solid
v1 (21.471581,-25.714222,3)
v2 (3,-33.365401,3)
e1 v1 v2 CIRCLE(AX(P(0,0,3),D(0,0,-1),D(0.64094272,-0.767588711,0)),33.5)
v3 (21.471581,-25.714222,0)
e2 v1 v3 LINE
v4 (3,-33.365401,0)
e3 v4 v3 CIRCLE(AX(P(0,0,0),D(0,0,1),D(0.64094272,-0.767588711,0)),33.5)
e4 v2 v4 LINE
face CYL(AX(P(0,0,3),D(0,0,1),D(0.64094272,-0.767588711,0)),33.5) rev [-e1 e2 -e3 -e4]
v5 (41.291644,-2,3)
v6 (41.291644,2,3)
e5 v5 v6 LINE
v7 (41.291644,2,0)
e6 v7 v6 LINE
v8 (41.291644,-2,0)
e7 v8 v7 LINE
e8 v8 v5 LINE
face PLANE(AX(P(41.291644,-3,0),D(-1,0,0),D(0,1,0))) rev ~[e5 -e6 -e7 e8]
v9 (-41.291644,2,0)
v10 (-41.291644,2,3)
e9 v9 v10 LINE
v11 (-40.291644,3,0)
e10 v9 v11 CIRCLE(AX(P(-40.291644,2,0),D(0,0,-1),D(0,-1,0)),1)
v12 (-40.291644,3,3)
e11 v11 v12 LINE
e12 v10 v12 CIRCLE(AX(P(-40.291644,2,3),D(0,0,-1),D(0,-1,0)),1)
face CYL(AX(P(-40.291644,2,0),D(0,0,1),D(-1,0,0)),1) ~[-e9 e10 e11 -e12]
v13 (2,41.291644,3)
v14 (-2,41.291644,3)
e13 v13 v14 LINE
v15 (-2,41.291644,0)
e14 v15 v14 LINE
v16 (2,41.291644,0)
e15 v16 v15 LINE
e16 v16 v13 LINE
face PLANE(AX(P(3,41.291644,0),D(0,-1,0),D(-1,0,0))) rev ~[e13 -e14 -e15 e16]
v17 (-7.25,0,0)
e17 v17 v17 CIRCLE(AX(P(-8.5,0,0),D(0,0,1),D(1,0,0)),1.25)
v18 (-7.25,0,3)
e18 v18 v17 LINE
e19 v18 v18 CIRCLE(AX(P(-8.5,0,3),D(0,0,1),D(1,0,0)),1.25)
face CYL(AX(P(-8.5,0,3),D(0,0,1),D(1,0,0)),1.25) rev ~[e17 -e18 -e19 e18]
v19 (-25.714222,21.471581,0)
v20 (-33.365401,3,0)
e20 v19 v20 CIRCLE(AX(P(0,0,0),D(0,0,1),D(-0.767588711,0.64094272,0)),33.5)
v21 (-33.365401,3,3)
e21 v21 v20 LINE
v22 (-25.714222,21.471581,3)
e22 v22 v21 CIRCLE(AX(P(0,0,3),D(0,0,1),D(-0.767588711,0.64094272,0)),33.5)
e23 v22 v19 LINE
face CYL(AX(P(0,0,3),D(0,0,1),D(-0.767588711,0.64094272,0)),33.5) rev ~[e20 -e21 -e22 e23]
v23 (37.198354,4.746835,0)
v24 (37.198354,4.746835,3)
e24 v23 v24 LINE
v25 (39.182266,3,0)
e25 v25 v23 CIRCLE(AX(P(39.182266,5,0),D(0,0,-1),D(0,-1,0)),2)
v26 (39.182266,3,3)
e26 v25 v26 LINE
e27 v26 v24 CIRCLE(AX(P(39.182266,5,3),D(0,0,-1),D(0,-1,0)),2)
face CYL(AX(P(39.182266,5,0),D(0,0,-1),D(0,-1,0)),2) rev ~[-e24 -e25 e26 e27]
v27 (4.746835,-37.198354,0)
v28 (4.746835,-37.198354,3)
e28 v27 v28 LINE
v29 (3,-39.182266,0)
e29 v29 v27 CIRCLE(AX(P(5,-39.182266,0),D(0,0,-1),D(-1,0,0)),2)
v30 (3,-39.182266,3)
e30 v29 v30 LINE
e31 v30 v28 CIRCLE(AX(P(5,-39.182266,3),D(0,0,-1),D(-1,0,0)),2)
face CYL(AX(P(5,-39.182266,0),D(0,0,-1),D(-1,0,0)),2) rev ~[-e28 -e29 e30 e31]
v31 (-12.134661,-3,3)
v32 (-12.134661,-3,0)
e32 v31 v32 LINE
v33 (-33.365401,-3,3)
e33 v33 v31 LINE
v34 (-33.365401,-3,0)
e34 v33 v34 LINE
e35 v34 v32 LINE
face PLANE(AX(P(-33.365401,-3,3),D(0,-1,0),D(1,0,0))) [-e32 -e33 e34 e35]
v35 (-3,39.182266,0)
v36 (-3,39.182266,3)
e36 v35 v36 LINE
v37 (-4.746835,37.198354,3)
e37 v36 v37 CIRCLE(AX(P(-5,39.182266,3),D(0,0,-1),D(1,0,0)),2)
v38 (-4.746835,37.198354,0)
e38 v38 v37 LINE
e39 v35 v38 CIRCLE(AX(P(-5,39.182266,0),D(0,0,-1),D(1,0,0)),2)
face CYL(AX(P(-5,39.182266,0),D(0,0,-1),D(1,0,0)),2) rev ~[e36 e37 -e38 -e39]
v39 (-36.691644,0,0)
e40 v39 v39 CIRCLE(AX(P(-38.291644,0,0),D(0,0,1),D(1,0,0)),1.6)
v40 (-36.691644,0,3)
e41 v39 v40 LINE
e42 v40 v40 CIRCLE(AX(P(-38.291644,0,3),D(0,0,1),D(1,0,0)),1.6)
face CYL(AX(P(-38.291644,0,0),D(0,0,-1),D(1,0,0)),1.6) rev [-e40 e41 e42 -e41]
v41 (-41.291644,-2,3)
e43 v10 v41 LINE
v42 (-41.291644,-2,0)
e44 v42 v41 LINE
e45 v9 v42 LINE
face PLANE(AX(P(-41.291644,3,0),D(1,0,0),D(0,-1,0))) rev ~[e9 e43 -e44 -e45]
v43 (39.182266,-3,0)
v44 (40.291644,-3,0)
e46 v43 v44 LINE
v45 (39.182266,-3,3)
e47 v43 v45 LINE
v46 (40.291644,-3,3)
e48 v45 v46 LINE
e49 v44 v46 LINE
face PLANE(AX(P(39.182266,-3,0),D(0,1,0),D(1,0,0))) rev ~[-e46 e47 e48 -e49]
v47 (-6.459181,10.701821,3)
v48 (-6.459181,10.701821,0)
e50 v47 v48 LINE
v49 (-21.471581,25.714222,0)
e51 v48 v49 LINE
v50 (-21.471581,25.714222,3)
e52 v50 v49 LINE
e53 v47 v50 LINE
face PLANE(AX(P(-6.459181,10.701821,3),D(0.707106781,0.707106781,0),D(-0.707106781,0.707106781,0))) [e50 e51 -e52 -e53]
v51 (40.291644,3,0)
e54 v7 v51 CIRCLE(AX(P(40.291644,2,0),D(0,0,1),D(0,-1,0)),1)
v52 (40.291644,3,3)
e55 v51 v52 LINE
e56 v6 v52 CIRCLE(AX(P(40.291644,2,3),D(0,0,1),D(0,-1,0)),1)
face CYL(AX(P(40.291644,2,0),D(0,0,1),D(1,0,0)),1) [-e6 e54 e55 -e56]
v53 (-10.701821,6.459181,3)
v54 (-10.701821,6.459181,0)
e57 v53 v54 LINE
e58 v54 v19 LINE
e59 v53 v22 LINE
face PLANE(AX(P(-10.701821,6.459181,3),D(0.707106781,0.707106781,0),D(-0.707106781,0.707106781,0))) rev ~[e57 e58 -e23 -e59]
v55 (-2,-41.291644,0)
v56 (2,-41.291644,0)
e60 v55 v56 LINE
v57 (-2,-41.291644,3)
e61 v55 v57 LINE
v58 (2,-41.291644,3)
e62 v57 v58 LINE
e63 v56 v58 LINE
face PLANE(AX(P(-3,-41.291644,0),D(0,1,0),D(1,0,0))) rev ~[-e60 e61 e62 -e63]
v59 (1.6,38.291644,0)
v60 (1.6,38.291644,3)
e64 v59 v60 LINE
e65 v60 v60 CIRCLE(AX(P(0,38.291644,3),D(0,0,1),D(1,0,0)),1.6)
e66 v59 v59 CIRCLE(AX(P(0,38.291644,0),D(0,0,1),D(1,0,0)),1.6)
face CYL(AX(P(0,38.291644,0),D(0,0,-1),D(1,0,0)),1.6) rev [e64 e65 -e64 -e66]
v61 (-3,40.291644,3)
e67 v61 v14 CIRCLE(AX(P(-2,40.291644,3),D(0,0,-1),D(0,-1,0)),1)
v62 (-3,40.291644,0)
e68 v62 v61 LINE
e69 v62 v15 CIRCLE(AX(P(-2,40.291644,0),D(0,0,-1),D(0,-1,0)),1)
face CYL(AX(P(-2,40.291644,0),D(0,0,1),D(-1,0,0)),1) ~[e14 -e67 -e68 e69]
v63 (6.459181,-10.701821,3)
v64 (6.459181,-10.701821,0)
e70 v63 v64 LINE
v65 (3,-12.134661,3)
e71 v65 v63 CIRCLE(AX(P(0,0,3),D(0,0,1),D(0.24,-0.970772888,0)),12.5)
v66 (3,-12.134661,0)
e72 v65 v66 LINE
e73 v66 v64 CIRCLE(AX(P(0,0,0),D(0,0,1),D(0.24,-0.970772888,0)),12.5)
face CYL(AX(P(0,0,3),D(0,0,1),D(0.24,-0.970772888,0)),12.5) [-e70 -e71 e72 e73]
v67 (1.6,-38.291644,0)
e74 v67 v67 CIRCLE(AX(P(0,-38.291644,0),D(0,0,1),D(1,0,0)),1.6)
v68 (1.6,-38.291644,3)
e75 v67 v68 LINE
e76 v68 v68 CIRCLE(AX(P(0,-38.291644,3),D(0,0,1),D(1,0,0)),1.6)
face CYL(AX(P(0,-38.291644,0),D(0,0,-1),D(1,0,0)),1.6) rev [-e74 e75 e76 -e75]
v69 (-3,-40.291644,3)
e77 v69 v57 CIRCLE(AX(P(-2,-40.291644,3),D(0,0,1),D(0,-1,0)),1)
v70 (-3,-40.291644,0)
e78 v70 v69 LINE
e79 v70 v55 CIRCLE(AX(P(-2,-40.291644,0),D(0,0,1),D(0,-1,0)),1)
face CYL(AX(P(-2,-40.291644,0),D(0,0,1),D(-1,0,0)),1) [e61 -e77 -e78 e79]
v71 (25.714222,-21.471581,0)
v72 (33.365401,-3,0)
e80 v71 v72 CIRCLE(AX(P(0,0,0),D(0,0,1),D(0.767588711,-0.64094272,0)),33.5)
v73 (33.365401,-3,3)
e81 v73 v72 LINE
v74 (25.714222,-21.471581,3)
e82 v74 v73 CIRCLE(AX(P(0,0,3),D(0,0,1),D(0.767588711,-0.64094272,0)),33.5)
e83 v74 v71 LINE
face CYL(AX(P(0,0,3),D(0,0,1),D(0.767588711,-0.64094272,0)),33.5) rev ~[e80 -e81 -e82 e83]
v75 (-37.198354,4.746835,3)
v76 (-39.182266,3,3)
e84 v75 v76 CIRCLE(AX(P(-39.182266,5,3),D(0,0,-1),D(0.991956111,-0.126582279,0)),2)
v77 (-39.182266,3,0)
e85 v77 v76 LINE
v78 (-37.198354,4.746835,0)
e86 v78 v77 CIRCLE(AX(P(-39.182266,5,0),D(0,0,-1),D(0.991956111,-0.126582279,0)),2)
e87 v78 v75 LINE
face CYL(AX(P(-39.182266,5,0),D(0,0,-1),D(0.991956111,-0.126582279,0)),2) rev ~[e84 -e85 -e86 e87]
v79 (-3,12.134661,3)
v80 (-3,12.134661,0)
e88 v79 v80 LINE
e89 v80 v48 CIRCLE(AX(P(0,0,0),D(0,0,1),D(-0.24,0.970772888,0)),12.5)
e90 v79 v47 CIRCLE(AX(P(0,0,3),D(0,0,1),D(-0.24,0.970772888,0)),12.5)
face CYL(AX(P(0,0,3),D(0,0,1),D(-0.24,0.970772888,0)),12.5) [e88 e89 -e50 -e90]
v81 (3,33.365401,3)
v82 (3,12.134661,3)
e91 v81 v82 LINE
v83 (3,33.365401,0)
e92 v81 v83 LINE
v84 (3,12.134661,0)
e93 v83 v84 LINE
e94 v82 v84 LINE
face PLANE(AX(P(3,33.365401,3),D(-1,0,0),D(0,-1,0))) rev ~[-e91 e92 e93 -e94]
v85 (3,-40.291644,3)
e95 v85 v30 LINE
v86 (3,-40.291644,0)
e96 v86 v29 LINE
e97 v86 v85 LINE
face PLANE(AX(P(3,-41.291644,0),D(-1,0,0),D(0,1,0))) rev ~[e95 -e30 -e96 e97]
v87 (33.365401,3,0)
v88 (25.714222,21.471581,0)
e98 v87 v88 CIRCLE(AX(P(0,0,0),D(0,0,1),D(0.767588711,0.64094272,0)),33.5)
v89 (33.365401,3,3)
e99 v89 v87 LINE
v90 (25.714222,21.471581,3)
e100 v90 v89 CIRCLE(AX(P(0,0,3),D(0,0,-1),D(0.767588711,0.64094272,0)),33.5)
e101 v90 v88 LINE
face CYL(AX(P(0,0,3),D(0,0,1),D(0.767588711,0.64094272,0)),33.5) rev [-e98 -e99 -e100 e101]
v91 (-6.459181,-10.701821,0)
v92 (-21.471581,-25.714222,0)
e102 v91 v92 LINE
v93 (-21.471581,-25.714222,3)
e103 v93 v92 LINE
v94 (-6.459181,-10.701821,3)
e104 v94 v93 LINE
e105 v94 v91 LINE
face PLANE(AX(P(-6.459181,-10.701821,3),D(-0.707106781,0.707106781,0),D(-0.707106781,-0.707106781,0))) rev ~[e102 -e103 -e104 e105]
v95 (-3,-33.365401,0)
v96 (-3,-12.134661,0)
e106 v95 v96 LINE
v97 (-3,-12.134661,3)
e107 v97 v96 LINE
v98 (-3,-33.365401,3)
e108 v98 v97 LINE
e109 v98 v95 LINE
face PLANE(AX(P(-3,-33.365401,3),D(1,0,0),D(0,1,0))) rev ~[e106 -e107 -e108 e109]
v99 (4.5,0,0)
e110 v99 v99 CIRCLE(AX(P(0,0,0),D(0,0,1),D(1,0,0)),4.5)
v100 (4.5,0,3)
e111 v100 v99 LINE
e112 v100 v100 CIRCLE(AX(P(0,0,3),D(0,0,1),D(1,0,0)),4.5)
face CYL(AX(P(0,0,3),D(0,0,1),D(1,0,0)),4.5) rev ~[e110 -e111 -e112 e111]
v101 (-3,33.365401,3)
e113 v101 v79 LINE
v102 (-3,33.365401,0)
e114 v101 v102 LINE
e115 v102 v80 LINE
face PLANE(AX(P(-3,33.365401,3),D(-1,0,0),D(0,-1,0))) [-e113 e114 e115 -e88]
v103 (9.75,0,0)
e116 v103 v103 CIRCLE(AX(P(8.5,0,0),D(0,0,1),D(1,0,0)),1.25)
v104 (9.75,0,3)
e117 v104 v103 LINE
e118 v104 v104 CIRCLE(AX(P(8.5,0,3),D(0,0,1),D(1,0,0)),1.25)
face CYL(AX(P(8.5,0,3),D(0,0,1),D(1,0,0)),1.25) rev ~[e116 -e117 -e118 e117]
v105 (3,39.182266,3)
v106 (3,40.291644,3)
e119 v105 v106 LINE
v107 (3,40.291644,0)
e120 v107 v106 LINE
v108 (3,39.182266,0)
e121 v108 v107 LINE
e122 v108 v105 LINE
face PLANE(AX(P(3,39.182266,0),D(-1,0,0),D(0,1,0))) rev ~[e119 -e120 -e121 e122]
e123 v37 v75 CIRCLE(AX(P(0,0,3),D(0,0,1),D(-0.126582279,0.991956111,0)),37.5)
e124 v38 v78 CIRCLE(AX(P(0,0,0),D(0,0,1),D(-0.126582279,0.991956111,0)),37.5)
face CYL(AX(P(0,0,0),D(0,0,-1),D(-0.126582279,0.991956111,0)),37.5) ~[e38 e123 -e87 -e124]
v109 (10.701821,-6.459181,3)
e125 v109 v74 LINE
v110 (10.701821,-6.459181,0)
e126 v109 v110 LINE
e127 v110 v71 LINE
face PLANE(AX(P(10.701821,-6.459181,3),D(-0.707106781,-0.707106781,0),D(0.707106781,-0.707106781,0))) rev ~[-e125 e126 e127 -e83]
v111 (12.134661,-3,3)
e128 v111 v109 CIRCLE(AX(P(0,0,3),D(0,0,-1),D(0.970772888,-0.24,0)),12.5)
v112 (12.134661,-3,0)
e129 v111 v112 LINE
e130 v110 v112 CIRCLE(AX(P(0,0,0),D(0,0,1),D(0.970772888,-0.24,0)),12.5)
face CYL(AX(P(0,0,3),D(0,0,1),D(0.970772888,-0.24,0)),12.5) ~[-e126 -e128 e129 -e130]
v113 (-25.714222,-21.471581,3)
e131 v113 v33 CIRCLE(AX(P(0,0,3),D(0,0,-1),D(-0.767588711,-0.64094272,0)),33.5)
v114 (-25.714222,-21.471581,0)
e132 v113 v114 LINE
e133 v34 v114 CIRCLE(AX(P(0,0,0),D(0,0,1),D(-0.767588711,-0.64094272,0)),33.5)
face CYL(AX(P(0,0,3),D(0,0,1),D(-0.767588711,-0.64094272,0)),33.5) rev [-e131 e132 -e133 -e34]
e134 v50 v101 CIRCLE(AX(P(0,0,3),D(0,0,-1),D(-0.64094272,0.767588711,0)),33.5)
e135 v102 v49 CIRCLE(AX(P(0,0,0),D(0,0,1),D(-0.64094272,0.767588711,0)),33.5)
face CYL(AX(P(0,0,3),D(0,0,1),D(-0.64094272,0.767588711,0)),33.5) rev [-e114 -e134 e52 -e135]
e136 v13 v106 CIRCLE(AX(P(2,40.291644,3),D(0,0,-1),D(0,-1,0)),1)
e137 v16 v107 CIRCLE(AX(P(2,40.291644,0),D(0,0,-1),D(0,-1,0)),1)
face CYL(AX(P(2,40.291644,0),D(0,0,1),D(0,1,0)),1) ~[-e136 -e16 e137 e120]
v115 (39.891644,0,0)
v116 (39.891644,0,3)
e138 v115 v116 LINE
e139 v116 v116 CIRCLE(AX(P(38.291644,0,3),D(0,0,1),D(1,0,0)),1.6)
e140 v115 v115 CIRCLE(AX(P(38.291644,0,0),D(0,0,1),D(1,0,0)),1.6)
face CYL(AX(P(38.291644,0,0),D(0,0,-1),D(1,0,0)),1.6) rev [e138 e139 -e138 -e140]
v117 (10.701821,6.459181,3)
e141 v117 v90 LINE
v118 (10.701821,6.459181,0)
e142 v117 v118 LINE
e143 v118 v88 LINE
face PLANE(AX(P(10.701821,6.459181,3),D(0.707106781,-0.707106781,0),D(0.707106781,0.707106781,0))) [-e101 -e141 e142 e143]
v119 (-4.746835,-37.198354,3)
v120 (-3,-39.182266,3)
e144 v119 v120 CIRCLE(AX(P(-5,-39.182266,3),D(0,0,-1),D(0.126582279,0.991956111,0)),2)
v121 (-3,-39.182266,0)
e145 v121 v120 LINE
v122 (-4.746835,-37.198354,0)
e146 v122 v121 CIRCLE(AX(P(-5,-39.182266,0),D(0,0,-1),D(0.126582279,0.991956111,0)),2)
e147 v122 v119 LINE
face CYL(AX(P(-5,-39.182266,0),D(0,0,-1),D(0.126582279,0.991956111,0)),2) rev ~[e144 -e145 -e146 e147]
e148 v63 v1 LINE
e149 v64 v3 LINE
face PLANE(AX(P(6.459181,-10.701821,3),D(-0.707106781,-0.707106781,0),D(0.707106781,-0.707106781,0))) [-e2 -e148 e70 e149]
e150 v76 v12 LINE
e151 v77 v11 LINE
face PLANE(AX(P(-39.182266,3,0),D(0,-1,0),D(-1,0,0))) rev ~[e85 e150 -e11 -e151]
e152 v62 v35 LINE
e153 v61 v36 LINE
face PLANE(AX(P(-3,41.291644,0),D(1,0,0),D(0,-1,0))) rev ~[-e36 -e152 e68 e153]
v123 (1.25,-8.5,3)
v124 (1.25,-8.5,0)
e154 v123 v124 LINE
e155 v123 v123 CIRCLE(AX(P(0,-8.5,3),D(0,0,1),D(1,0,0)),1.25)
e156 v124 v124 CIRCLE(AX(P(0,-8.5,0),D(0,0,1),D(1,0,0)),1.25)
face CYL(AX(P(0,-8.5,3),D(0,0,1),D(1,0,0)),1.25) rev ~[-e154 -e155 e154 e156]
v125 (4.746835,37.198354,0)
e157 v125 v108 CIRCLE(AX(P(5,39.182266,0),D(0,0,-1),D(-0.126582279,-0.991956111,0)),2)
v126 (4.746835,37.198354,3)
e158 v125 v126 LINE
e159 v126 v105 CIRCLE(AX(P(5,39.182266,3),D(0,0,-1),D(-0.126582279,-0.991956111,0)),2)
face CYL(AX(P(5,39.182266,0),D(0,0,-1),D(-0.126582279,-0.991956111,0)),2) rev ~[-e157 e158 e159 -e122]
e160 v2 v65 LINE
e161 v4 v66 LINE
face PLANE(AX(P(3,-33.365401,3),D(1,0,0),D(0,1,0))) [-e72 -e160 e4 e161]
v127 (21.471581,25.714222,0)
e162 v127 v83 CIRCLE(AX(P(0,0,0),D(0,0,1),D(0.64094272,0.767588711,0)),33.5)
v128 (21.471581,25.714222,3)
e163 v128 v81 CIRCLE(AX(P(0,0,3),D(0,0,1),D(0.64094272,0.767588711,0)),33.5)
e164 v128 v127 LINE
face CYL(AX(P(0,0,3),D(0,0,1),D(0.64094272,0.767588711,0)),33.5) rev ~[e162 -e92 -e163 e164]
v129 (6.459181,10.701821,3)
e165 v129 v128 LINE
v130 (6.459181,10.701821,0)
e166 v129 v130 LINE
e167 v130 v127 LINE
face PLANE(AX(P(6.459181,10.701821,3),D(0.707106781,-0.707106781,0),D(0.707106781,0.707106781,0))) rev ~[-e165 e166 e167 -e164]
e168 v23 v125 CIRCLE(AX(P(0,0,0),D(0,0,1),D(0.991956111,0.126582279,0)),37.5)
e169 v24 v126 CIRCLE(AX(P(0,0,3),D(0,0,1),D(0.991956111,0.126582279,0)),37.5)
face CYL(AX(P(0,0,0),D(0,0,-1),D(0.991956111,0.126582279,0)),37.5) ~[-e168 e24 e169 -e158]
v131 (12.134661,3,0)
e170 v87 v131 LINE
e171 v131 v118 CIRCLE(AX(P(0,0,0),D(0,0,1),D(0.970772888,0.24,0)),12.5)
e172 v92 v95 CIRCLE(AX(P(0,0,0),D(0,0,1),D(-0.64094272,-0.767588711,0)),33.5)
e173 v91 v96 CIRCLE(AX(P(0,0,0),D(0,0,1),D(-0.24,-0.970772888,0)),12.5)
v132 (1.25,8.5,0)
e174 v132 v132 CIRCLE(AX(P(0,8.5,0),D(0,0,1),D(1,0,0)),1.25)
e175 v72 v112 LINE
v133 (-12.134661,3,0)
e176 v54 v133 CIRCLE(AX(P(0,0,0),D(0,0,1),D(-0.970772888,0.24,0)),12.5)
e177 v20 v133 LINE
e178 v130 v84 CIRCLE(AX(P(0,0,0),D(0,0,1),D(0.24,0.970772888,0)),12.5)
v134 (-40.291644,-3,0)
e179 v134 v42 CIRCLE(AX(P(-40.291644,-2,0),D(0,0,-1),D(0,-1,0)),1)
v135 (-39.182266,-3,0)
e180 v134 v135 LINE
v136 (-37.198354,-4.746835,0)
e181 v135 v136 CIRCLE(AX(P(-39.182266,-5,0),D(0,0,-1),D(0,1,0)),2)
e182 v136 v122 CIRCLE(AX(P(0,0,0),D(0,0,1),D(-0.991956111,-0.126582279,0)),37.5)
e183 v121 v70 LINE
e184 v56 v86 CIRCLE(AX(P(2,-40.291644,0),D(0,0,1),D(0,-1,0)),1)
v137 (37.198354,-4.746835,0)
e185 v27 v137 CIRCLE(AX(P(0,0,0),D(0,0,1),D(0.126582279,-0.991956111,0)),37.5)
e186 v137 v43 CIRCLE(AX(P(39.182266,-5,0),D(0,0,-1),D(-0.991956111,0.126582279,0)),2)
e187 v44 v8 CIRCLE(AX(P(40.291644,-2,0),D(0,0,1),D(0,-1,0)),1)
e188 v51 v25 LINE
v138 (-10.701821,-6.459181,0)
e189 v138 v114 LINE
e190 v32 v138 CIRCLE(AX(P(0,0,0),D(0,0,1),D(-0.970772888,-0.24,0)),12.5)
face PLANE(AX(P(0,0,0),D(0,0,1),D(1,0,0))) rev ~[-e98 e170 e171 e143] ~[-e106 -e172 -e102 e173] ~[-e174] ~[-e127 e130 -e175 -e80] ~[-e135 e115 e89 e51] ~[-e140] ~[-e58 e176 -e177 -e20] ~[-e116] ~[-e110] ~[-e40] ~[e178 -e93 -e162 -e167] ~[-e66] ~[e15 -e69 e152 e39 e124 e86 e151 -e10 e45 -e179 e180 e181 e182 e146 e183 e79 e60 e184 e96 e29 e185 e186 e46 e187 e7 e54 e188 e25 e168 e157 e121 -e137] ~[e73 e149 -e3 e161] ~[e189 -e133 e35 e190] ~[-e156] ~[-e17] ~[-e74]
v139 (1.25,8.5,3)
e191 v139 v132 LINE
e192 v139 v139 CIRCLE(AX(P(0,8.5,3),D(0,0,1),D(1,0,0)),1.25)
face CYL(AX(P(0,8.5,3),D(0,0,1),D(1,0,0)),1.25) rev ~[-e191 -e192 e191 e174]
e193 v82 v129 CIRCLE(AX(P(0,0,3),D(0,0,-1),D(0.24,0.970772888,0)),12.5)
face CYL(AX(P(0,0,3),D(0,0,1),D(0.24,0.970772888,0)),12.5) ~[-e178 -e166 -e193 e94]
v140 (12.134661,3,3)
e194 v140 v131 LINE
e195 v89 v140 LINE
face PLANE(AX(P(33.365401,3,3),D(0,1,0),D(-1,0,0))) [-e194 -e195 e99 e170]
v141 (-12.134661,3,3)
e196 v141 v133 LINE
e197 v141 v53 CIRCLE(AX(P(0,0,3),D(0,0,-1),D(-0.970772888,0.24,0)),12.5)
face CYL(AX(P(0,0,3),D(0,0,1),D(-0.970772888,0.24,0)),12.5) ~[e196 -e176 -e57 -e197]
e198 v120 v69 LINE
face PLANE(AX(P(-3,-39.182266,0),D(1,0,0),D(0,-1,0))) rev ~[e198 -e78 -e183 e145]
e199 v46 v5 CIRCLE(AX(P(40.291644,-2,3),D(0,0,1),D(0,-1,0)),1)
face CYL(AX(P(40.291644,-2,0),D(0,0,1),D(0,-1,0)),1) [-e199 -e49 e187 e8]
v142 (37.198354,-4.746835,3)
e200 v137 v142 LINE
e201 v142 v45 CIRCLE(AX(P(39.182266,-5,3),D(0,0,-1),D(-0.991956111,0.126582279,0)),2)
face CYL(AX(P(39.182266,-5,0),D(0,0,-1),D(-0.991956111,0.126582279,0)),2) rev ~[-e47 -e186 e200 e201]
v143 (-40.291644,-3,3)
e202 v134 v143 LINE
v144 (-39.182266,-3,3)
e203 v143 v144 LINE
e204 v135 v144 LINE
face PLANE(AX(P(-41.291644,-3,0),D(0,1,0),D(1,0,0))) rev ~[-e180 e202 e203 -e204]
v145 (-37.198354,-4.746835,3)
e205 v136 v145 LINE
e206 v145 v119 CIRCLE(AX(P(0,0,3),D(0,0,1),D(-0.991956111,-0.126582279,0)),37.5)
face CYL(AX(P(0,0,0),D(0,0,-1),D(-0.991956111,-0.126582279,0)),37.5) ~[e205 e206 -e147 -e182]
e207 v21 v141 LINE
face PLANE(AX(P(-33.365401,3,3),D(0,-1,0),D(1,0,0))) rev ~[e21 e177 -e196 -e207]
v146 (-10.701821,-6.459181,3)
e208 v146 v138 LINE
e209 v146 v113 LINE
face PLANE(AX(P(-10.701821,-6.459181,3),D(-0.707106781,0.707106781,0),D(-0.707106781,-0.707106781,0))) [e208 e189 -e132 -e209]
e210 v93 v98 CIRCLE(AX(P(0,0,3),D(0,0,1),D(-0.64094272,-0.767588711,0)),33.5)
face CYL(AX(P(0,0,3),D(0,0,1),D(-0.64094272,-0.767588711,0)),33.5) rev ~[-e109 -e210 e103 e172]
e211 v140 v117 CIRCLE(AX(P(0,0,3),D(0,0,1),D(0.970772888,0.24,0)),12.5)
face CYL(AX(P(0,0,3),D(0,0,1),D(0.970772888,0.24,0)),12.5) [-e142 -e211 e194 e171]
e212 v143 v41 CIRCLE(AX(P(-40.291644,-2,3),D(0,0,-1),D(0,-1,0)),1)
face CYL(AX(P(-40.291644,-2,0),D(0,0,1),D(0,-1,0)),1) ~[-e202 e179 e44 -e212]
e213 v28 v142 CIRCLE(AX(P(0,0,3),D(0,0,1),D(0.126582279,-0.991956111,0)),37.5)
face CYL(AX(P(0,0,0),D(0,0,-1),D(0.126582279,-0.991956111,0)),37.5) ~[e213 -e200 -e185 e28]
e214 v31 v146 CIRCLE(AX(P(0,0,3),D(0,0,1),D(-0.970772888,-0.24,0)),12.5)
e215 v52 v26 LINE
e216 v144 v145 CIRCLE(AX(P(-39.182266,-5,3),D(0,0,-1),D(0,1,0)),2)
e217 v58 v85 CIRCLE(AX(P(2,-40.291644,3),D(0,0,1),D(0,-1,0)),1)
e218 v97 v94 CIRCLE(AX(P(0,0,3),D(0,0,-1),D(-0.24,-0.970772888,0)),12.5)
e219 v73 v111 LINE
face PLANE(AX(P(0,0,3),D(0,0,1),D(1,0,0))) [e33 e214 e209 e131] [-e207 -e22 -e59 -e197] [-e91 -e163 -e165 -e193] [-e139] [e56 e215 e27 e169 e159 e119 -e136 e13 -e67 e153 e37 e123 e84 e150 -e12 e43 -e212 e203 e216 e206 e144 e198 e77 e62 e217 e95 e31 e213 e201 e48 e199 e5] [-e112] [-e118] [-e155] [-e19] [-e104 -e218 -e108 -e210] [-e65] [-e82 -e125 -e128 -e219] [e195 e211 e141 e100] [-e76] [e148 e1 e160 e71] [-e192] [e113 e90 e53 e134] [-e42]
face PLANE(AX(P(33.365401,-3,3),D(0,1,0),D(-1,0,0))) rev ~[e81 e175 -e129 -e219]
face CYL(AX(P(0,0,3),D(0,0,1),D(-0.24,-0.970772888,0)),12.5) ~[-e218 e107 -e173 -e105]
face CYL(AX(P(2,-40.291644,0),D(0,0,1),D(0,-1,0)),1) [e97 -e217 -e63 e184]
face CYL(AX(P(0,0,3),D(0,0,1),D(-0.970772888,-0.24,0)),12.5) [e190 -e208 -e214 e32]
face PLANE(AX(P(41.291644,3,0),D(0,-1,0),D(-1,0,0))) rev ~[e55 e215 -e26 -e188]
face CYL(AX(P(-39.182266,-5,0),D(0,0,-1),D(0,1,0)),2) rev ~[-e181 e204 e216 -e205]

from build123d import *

# Parameters (mm, degrees)
SKETCH_1_R          = 1.6
EXTRUDE_1_DEPTH     = 3
SKETCH_3_R          = 4.5
SKETCH_3_R_2        = 1.25
CUT_EXTRUDE_1_DEPTH = 4
CUT_EXTRUDE_2_DEPTH = 4
FILLET_1_R          = 1


with BuildPart() as part:
    # ｽｹｯﾁ1 → ﾎﾞｽ - 押し出し1 (new body)
    with BuildSketch(Plane.XY):
        with BuildLine():
            Line((-3, -39.182266397), (-3, -41.291643997))
            Line((-3, -41.291643997), (3, -41.291643997))
            Line((3, -41.291643997), (3, -39.182266397))
            ThreePointArc((3, -39.182266397), (3.498945518, -37.860587373), (4.746835443, -37.198354174))
            ThreePointArc((4.746835443, -37.198354174), (26.516504294, -26.516504294), (37.198354174, -4.746835443))
            ThreePointArc((37.198354174, -4.746835443), (37.860587373, -3.498945518), (39.182266397, -3))
            Line((39.182266397, -3), (41.291643997, -3))
            Line((41.291643997, -3), (41.291643997, 3))
            Line((41.291643997, 3), (39.182266397, 3))
            ThreePointArc((39.182266397, 3), (37.860587373, 3.498945518), (37.198354174, 4.746835443))
            ThreePointArc((37.198354174, 4.746835443), (26.516504294, 26.516504294), (4.746835443, 37.198354174))
            ThreePointArc((4.746835443, 37.198354174), (3.498945518, 37.860587373), (3, 39.182266397))
            Line((3, 39.182266397), (3, 41.291643997))
            Line((3, 41.291643997), (-3, 41.291643997))
            Line((-3, 41.291643997), (-3, 39.182266397))
            ThreePointArc((-3, 39.182266397), (-3.498945518, 37.860587373), (-4.746835443, 37.198354174))
            ThreePointArc((-4.746835443, 37.198354174), (-26.516504294, 26.516504294), (-37.198354174, 4.746835443))
            ThreePointArc((-37.198354174, 4.746835443), (-37.860587373, 3.498945518), (-39.182266397, 3))
            Line((-39.182266397, 3), (-41.291643997, 3))
            Line((-41.291643997, 3), (-41.291643997, -3))
            Line((-41.291643997, -3), (-39.182266397, -3))
            ThreePointArc((-39.182266397, -3), (-37.860587373, -3.498945518), (-37.198354174, -4.746835443))
            ThreePointArc((-37.198354174, -4.746835443), (-26.516504294, -26.516504294), (-4.746835443, -37.198354174))
            ThreePointArc((-4.746835443, -37.198354174), (-3.498945518, -37.860587373), (-3, -39.182266397))
        make_face()
        with Locations((-38.291643997, 0)):
            Circle(SKETCH_1_R, mode=Mode.SUBTRACT)
        with Locations((0, -38.291643997)):
            Circle(SKETCH_1_R, mode=Mode.SUBTRACT)
        with Locations((0, 38.291643997)):
            Circle(SKETCH_1_R, mode=Mode.SUBTRACT)
        with Locations((38.291643997, 0)):
            Circle(SKETCH_1_R, mode=Mode.SUBTRACT)
    extrude(amount=EXTRUDE_1_DEPTH)

    # ｽｹｯﾁ3 → ｶｯﾄ - 押し出し1 (cut, through all)
    with BuildSketch(Plane.XY.offset(3)):
        Circle(SKETCH_3_R)
        with Locations((0, 8.5)):
            Circle(SKETCH_3_R_2)
        with Locations((8.5, 0)):
            Circle(SKETCH_3_R_2)
        with Locations((0, -8.5)):
            Circle(SKETCH_3_R_2)
        with Locations((-8.5, 0)):
            Circle(SKETCH_3_R_2)
    extrude(amount=-CUT_EXTRUDE_1_DEPTH, mode=Mode.SUBTRACT)

    # ｽｹｯﾁ4 → ｶｯﾄ - 押し出し2 (cut, through all)
    with BuildSketch(Plane.XY.offset(3)):
        with BuildLine():
            Line((-3, 33.365401241), (-3, 12.1346611))
            ThreePointArc((-3, 12.1346611), (-4.783542905, 11.548494156), (-6.459180807, 10.701821494))
            Line((-6.459180807, 10.701821494), (-21.471581131, 25.714221818))
            ThreePointArc((-21.471581131, 25.714221818), (-12.819894984, 30.949964339), (-3, 33.365401241))
        make_face()
        with BuildLine():
            Line((3, 33.365401241), (3, 12.1346611))
            ThreePointArc((3, 12.1346611), (4.783542905, 11.548494156), (6.459180807, 10.701821494))
            Line((6.459180807, 10.701821494), (21.471581131, 25.714221818))
            ThreePointArc((21.471581131, 25.714221818), (12.819894984, 30.949964339), (3, 33.365401241))
        make_face()
        with BuildLine():
            Line((33.365401241, 3), (12.1346611, 3))
            ThreePointArc((12.1346611, 3), (11.548494156, 4.783542905), (10.701821494, 6.459180807))
            Line((10.701821494, 6.459180807), (25.714221818, 21.471581131))
            ThreePointArc((25.714221818, 21.471581131), (30.949964339, 12.819894984), (33.365401241, 3))
        make_face()
        with BuildLine():
            Line((33.365401241, -3), (12.1346611, -3))
            ThreePointArc((12.1346611, -3), (11.548494156, -4.783542905), (10.701821494, -6.459180807))
            Line((10.701821494, -6.459180807), (25.714221818, -21.471581131))
            ThreePointArc((25.714221818, -21.471581131), (30.949964339, -12.819894984), (33.365401241, -3))
        make_face()
        with BuildLine():
            Line((3, -33.365401241), (3, -12.1346611))
            ThreePointArc((3, -12.1346611), (4.783542905, -11.548494156), (6.459180807, -10.701821494))
            Line((6.459180807, -10.701821494), (21.471581131, -25.714221818))
            ThreePointArc((21.471581131, -25.714221818), (12.819894984, -30.949964339), (3, -33.365401241))
        make_face()
        with BuildLine():
            Line((-3, -33.365401241), (-3, -12.1346611))
            ThreePointArc((-3, -12.1346611), (-4.783542905, -11.548494156), (-6.459180807, -10.701821494))
            Line((-6.459180807, -10.701821494), (-21.471581131, -25.714221818))
            ThreePointArc((-21.471581131, -25.714221818), (-12.819894984, -30.949964339), (-3, -33.365401241))
        make_face()
        with BuildLine():
            Line((-33.365401241, -3), (-12.1346611, -3))
            ThreePointArc((-12.1346611, -3), (-11.548494156, -4.783542905), (-10.701821494, -6.459180807))
            Line((-10.701821494, -6.459180807), (-25.714221818, -21.471581131))
            ThreePointArc((-25.714221818, -21.471581131), (-30.949964339, -12.819894984), (-33.365401241, -3))
        make_face()
        with BuildLine():
            Line((-33.365401241, 3), (-12.1346611, 3))
            ThreePointArc((-12.1346611, 3), (-11.548494156, 4.783542905), (-10.701821494, 6.459180807))
            Line((-10.701821494, 6.459180807), (-25.714221818, 21.471581131))
            ThreePointArc((-25.714221818, 21.471581131), (-30.949964339, 12.819894984), (-33.365401241, 3))
        make_face()
    extrude(amount=-CUT_EXTRUDE_2_DEPTH, mode=Mode.SUBTRACT)

    # ﾌｨﾚｯﾄ1
    fillet_1_edges = [part.edges().sort_by_distance(p)[0] for p in [
        (-41.291643997, -3, 1.5),
        (-41.291643997, 3, 1.5),
        (-3, 41.291643997, 1.5),
        (3, 41.291643997, 1.5),
        (41.291643997, 3, 1.5),
        (41.291643997, -3, 1.5),
        (3, -41.291643997, 1.5),
        (-3, -41.291643997, 1.5),
    ]]
    fillet(fillet_1_edges, radius=FILLET_1_R)


solid = part.part
